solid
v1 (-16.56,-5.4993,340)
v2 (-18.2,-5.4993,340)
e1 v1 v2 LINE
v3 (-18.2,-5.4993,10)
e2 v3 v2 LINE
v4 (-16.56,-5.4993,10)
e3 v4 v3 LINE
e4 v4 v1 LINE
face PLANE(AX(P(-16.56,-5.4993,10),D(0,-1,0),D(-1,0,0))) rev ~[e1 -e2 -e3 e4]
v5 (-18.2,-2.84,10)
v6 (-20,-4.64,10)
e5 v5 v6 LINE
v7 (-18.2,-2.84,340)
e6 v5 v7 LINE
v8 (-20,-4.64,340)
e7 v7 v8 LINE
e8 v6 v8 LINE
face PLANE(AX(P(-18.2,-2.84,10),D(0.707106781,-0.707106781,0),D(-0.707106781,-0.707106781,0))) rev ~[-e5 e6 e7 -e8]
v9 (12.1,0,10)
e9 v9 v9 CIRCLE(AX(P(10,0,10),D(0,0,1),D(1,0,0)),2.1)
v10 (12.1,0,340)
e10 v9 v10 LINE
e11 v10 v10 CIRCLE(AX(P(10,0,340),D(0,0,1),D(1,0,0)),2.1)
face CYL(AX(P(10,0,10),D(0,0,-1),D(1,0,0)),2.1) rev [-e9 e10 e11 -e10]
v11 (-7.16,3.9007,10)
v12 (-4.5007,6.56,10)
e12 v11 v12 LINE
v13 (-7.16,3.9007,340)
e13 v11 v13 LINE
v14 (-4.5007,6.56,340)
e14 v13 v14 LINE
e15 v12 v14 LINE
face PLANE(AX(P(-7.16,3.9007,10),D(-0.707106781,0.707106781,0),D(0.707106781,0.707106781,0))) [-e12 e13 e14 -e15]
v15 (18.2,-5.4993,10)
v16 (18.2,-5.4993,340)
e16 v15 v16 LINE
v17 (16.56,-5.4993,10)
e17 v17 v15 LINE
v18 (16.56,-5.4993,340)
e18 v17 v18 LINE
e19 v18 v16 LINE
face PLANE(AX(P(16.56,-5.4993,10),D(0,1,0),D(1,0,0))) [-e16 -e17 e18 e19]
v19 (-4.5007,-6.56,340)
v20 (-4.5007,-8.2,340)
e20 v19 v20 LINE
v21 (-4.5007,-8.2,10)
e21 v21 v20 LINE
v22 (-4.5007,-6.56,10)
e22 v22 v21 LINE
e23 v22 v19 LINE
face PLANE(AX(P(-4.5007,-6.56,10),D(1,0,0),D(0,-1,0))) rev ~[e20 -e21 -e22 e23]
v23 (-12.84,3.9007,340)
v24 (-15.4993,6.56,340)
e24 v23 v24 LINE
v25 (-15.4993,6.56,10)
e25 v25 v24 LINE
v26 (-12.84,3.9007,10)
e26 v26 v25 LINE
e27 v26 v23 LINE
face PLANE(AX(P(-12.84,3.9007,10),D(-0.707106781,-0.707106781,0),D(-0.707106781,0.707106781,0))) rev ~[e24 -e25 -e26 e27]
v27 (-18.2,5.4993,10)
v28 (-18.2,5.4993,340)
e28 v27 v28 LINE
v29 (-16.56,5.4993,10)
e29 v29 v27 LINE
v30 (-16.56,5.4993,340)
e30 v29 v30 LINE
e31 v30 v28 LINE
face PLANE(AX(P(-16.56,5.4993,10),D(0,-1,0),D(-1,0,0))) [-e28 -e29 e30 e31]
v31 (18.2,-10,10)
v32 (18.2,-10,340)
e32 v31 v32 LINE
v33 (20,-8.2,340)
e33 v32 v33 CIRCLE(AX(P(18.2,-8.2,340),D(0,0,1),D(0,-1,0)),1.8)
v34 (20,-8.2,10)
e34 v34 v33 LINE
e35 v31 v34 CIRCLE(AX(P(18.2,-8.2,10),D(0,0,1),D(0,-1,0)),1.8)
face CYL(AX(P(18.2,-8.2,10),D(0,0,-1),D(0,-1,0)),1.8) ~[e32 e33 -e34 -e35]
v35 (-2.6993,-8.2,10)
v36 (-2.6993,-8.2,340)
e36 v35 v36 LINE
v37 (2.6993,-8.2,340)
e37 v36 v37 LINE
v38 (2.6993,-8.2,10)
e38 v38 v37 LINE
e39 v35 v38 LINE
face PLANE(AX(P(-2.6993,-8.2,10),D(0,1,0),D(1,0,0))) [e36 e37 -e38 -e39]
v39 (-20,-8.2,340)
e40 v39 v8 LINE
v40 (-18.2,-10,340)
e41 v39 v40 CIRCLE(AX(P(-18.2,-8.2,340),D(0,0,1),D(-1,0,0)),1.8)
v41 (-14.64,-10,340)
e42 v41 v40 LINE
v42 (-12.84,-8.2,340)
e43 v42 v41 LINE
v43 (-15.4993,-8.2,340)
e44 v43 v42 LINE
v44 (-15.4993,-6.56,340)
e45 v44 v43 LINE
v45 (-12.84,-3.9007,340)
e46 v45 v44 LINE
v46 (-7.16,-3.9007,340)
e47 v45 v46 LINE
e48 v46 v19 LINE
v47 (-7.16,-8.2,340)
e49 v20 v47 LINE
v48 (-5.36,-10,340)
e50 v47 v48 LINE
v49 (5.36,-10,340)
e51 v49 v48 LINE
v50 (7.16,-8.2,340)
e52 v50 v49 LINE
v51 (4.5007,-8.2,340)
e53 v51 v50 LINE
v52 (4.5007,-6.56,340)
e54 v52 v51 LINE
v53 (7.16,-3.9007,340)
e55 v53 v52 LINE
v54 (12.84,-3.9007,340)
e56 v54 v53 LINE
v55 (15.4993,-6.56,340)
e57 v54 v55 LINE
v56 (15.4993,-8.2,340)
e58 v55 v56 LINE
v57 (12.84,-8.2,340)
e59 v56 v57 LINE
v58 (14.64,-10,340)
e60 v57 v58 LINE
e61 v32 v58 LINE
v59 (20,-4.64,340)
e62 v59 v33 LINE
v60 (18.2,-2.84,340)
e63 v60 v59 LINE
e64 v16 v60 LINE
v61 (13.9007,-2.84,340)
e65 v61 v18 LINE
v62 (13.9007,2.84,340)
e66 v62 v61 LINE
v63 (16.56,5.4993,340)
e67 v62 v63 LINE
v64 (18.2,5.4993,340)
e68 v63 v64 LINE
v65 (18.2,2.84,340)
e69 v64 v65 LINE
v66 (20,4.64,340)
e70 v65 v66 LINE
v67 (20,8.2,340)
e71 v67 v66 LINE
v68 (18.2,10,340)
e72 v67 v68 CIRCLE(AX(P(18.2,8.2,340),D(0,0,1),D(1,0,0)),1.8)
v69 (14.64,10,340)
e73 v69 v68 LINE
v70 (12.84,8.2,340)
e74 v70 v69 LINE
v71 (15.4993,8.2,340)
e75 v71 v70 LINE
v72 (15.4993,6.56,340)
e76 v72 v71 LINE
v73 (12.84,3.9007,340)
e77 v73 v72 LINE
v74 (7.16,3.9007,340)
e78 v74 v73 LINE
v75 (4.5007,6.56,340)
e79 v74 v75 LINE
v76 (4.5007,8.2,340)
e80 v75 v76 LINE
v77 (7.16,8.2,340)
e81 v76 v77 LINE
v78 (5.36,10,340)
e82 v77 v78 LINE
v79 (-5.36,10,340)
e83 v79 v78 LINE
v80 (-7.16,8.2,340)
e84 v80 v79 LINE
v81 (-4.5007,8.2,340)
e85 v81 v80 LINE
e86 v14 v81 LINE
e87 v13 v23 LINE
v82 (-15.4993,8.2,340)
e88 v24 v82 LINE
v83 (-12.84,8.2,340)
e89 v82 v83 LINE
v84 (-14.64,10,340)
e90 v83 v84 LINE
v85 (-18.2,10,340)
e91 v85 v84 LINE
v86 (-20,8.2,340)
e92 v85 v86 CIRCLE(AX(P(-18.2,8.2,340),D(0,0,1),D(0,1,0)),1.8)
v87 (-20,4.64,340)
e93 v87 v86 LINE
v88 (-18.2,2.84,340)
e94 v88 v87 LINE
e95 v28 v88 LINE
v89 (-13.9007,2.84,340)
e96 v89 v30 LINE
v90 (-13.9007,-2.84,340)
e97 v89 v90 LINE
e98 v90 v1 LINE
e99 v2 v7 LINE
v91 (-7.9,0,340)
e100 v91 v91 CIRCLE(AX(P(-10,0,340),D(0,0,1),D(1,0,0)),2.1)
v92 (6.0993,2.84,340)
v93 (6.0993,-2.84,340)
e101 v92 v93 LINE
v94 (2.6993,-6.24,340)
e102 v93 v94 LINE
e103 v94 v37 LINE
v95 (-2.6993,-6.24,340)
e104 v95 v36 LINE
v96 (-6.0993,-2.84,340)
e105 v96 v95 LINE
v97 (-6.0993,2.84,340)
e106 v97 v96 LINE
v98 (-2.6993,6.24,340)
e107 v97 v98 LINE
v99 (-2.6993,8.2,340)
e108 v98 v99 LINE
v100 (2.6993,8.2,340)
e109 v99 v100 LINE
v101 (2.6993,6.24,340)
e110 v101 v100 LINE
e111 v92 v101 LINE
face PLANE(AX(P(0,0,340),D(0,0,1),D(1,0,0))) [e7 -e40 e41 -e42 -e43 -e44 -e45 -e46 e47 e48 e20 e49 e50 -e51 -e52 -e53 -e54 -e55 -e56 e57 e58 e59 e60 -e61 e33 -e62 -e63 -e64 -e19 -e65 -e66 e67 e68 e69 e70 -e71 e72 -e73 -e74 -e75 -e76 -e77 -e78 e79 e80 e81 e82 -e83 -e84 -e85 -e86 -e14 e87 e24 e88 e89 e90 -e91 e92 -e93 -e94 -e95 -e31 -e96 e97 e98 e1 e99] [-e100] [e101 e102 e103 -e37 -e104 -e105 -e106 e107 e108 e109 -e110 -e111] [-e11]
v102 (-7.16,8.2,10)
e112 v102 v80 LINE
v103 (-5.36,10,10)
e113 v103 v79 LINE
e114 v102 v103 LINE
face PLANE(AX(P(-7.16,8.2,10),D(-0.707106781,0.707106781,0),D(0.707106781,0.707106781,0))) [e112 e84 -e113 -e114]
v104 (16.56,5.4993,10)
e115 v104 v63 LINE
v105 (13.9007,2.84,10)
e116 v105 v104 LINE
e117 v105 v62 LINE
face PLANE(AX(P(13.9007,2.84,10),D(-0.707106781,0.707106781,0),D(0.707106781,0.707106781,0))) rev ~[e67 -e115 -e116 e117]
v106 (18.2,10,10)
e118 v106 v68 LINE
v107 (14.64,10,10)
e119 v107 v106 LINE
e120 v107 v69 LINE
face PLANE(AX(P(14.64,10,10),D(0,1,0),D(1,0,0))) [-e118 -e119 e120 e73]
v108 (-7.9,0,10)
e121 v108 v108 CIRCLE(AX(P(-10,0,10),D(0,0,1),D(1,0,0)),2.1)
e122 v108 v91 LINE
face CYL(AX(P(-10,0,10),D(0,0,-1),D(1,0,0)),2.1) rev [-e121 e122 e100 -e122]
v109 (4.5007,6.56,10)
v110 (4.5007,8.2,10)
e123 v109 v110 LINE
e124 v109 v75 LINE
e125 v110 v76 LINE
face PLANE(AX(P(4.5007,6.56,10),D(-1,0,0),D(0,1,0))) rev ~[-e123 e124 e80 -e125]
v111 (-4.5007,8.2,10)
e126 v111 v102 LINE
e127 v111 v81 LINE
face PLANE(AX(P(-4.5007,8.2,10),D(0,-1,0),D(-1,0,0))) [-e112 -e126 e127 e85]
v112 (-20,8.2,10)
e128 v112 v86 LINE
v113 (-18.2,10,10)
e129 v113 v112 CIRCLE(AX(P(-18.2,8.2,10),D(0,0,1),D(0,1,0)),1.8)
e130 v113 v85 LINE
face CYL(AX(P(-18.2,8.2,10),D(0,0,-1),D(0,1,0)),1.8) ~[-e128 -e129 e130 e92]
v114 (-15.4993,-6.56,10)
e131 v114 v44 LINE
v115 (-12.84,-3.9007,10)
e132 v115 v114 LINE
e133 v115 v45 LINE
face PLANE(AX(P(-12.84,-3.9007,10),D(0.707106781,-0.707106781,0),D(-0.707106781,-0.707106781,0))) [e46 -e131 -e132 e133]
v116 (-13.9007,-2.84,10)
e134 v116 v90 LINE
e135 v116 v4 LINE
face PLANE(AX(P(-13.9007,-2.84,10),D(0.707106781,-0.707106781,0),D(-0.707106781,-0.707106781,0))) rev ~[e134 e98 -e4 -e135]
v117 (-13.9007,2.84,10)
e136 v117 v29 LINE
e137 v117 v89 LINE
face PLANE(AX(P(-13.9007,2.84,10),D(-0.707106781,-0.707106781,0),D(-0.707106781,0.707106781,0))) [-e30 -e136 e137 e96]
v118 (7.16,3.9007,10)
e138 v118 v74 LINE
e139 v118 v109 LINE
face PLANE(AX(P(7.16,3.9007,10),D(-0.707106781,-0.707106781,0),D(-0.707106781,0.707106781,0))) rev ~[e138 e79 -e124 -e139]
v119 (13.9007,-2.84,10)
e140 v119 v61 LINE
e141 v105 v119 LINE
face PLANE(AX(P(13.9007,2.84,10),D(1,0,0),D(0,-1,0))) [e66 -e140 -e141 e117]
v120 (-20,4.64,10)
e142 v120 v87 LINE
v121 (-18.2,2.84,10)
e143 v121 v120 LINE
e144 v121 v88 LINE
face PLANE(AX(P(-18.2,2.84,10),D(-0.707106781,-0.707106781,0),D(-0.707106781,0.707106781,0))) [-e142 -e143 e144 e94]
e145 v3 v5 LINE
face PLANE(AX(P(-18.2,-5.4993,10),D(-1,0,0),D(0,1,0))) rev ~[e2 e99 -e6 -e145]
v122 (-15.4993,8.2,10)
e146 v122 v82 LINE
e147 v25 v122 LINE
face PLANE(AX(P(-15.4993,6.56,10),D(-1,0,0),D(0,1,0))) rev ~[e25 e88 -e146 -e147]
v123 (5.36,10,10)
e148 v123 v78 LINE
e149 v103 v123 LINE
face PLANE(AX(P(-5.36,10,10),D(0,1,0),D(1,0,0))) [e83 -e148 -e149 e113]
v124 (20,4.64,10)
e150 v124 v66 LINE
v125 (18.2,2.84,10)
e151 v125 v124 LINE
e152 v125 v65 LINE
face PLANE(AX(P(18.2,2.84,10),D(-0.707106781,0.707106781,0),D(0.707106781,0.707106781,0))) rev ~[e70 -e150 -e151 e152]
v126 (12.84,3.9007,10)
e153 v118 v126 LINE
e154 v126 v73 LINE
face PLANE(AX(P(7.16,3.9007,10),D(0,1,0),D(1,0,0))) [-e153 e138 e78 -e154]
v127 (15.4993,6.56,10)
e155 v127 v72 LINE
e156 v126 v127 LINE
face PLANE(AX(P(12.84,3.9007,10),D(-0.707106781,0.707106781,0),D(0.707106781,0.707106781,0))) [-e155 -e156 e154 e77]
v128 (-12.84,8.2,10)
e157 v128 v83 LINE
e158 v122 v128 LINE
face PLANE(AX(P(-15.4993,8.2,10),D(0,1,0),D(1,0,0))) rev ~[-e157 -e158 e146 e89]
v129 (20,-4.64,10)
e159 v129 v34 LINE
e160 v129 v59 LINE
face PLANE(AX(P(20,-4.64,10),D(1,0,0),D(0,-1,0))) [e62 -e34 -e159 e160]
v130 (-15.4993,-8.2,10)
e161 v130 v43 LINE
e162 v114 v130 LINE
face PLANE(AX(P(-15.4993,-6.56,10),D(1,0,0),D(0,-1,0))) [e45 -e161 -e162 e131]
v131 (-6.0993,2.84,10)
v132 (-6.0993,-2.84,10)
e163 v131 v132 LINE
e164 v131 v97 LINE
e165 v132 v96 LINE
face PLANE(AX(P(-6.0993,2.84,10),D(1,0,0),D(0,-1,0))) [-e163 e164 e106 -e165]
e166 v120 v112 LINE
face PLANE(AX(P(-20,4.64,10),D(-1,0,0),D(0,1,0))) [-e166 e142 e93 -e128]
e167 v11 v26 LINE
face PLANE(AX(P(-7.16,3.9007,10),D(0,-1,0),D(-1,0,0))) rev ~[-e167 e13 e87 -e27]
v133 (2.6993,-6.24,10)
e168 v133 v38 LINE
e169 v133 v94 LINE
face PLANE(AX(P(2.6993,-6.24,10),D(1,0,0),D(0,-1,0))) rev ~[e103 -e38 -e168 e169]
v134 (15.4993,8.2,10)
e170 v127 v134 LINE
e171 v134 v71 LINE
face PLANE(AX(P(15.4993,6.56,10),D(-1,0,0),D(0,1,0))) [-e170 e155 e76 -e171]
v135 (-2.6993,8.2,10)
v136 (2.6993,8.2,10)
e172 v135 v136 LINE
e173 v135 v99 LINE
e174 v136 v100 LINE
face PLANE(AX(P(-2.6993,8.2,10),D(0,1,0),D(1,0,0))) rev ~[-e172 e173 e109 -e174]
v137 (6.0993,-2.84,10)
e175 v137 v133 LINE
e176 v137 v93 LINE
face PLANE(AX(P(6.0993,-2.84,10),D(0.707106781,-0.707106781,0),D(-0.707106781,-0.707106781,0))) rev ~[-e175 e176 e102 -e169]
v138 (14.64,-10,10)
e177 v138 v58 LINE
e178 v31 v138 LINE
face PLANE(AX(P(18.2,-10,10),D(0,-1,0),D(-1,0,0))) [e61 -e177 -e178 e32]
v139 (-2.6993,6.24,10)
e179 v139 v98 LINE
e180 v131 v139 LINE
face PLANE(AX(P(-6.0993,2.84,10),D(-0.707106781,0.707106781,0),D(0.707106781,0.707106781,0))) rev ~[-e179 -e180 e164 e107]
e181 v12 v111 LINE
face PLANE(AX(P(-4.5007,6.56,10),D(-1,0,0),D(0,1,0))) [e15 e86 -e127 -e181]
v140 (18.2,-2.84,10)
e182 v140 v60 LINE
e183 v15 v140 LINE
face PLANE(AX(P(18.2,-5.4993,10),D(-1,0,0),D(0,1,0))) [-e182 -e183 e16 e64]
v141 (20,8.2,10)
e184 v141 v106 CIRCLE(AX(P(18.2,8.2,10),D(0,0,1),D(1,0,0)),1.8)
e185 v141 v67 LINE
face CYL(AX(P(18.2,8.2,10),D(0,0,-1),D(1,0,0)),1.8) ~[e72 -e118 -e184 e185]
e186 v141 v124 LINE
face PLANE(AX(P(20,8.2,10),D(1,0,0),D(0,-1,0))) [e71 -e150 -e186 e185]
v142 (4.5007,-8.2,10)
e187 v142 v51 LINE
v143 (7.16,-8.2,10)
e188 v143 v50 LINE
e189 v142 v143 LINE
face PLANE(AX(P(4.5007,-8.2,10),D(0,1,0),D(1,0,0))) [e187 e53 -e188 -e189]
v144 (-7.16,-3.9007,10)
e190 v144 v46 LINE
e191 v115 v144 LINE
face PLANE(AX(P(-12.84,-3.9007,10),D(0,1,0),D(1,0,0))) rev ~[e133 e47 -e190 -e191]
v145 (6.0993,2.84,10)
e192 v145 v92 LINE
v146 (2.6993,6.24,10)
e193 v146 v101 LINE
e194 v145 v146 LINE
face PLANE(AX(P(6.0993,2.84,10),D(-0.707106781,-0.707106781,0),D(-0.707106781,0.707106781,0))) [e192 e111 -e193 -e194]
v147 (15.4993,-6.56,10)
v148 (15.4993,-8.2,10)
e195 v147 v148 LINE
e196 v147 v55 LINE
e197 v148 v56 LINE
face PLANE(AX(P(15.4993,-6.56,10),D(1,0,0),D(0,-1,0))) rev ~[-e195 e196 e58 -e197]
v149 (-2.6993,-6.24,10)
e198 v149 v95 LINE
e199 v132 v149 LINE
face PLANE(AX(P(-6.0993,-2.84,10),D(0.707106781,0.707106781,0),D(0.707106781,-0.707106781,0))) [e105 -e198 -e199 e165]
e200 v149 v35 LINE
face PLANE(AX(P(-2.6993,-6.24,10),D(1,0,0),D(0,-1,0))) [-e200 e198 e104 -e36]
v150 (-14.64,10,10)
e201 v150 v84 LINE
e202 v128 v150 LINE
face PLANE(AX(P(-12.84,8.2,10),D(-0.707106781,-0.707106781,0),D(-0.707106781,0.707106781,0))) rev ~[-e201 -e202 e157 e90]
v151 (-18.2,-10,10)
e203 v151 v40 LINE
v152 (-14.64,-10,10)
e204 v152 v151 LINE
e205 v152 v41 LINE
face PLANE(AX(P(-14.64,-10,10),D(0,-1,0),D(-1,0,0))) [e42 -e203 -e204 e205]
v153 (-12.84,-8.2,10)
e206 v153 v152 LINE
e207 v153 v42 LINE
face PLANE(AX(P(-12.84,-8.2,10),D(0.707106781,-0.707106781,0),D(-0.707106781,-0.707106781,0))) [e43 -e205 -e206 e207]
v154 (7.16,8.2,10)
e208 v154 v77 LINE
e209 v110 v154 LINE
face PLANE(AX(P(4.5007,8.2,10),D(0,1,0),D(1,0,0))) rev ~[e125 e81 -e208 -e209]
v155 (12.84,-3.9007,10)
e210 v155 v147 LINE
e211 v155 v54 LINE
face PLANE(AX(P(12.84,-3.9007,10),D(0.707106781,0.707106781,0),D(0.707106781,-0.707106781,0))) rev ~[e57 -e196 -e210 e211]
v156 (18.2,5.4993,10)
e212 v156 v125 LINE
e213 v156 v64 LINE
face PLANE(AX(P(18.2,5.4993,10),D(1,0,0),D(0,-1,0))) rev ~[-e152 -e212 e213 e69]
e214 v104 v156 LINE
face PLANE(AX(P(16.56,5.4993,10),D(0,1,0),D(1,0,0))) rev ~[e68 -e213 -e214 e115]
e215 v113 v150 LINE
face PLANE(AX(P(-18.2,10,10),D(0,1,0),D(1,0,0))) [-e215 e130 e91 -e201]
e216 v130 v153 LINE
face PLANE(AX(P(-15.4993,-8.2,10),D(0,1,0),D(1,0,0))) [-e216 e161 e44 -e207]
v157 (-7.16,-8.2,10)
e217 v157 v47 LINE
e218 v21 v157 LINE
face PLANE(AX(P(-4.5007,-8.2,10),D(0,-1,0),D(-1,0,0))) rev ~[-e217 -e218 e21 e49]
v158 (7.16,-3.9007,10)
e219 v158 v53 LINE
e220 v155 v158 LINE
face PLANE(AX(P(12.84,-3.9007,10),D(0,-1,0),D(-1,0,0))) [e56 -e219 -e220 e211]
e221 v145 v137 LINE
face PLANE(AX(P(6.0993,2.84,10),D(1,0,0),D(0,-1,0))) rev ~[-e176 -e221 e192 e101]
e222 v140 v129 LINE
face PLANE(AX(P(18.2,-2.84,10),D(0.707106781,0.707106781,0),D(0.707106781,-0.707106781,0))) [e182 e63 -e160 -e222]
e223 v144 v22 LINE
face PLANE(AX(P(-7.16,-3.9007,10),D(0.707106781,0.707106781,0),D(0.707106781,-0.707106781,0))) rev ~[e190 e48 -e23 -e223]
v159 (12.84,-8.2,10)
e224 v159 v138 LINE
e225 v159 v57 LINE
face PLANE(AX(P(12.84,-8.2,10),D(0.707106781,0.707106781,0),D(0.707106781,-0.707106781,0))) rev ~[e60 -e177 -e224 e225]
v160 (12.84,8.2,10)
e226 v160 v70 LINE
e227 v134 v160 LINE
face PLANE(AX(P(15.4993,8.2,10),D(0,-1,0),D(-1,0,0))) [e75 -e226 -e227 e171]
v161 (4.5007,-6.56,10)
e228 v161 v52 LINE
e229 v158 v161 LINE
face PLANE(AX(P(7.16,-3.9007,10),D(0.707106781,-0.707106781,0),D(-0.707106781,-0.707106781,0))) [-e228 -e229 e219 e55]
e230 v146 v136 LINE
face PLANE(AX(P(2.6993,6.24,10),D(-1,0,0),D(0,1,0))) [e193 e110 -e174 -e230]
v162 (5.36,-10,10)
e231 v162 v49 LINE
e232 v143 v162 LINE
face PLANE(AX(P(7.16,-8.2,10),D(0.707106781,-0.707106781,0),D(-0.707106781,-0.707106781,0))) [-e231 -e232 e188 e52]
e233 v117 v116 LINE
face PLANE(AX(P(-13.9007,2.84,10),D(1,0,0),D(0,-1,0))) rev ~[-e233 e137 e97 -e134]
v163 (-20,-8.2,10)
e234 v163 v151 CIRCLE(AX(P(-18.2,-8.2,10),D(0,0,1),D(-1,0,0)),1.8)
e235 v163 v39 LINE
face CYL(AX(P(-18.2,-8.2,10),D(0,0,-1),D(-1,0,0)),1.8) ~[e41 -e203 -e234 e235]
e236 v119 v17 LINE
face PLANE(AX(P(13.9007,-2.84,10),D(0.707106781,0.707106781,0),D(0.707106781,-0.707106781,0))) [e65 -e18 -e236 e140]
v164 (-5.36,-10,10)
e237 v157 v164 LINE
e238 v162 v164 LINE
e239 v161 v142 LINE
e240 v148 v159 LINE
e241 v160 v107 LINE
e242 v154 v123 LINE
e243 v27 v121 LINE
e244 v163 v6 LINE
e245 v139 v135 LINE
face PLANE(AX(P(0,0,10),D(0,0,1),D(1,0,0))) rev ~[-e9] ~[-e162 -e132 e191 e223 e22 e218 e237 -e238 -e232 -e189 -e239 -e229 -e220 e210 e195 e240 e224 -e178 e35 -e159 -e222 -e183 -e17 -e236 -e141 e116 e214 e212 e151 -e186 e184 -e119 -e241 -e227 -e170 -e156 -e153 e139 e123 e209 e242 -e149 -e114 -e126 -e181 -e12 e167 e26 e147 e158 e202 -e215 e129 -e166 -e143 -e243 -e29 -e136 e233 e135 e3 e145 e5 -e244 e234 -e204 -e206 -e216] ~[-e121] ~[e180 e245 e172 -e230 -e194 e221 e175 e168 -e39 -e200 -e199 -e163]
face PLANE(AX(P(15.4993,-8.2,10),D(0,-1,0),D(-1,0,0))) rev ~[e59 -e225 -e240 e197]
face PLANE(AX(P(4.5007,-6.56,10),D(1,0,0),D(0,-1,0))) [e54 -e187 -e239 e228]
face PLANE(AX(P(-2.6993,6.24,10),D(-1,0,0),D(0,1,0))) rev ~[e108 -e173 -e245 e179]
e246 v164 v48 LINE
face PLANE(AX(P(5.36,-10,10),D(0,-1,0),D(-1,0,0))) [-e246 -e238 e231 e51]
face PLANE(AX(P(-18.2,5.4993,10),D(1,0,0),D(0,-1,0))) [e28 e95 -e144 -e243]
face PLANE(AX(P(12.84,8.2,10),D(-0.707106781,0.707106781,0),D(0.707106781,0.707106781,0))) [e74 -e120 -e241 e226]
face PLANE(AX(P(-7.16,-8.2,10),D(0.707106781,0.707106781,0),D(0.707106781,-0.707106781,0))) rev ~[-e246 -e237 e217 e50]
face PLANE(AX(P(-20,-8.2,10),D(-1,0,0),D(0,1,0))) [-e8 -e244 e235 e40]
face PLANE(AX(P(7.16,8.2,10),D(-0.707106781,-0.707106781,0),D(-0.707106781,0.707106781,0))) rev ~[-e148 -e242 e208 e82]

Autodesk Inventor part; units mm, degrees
ref_plane "Start Plane" through (0, 0, 10) normal (0, 0, 1) x (1, 0, 0)
ref_plane "End Plane" through (0, 0, 340) normal (0, 0, 1) x (1, 0, 0)
sketch "Sketch" plane through (0, 0, 0) normal (0, 0, 1) x (1, 0, 0)
  line L0 (0, 0) -> (0, 10) construction
  line L1 (-10, 10) -> (-10, 0) construction
  line L2 (0, 0) -> (-10, 0) construction
  circle A0 centre (-10, 0) radius 2.1
  line L3 (-13.9007, 3.9007) -> (-6.0993, 3.9007) construction
  line L4 (-6.0993, 3.9007) -> (-6.0993, -3.9007) construction
  line L5 (-6.0993, -3.9007) -> (-13.9007, -3.9007) construction
  line L6 (-13.9007, -3.9007) -> (-13.9007, 3.9007) construction
  line L7 (-13.9007, 3.9007) -> (-6.0993, -3.9007) construction
  line L8 (-6.0993, 3.9007) -> (-13.9007, -3.9007) construction
  line L9 (-13.9007, -2.84) -> (-12.84, -3.9007) construction
  line L10 (-13.9007, -2.84) -> (-12.4007, -2.84) construction
  line L11 (-12.84, -3.9007) -> (-15.4993, -6.56)
  line L12 (-15.4993, -6.56) -> (-15.4993, -8.2)
  line L13 (-15.4993, -8.2) -> (-12.84, -8.2)
  line L14 (-12.84, -8.2) -> (-14.64, -10)
  line L15 (-7.16, -3.9007) -> (-4.5007, -6.56)
  line L16 (-4.5007, -6.56) -> (-4.5007, -8.2)
  line L17 (-4.5007, -8.2) -> (-7.16, -8.2)
  line L18 (-7.16, -8.2) -> (-5.36, -10)
  line L19 (-12.84, -3.9007) -> (-7.16, -3.9007)
  line L20 (-12.84, 3.9007) -> (-13.9007, 2.84) construction
  line L21 (-12.84, 3.9007) -> (-12.84, 2.4007) construction
  line L22 (-13.9007, 2.84) -> (-16.56, 5.4993)
  line L23 (-16.56, 5.4993) -> (-18.2, 5.4993)
  line L24 (-18.2, 5.4993) -> (-18.2, 2.84)
  line L25 (-18.2, 2.84) -> (-20, 4.64)
  line L26 (-18.2, -2.84) -> (-20, -4.64)
  line L27 (-18.2, -5.4993) -> (-18.2, -2.84)
  line L28 (-16.56, -5.4993) -> (-18.2, -5.4993)
  line L29 (-13.9007, -2.84) -> (-16.56, -5.4993)
  line L30 (-13.9007, 2.84) -> (-13.9007, -2.84)
  line L31 (-6.0993, 2.84) -> (-7.16, 3.9007) construction
  line L32 (-6.0993, 2.84) -> (-7.5993, 2.84) construction
  line L33 (-7.16, 3.9007) -> (-4.5007, 6.56)
  line L34 (-4.5007, 6.56) -> (-4.5007, 8.2)
  line L35 (-4.5007, 8.2) -> (-7.16, 8.2)
  line L36 (-7.16, 8.2) -> (-5.36, 10)
  line L37 (-12.84, 8.2) -> (-14.64, 10)
  line L38 (-15.4993, 8.2) -> (-12.84, 8.2)
  line L39 (-15.4993, 6.56) -> (-15.4993, 8.2)
  line L40 (-12.84, 3.9007) -> (-15.4993, 6.56)
  line L41 (-7.16, 3.9007) -> (-12.84, 3.9007)
  line L42 (-6.0993, 2.84) -> (-2.6993, 6.24)
  line L43 (-2.6993, 6.24) -> (-2.6993, 8.2)
  line L44 (-4.5007, 8.2) -> (0, 8.2) construction
  line L45 (-6.0993, -2.84) -> (-2.6993, -6.24)
  line L46 (-2.6993, -6.24) -> (-2.6993, -8.2)
  line L47 (10, 10) -> (10, 0) construction
  circle A1 centre (10, 0) radius 2.1
  line L48 (13.9007, 3.9007) -> (6.0993, -3.9007) construction
  line L49 (13.9007, -2.84) -> (12.84, -3.9007) construction
  line L50 (12.84, -3.9007) -> (15.4993, -6.56)
  line L51 (15.4993, -6.56) -> (15.4993, -8.2)
  line L52 (15.4993, -8.2) -> (12.84, -8.2)
  line L53 (12.84, -8.2) -> (14.64, -10)
  line L54 (7.16, -8.2) -> (5.36, -10)
  line L55 (4.5007, -8.2) -> (7.16, -8.2)
  line L56 (4.5007, -6.56) -> (4.5007, -8.2)
  line L57 (7.16, -3.9007) -> (4.5007, -6.56)
  line L58 (12.84, -3.9007) -> (7.16, -3.9007)
  line L59 (13.9007, 2.84) -> (13.9007, -2.84)
  line L60 (13.9007, 2.84) -> (16.56, 5.4993)
  line L61 (16.56, 5.4993) -> (18.2, 5.4993)
  line L62 (18.2, 5.4993) -> (18.2, 2.84)
  line L63 (18.2, 2.84) -> (20, 4.64)
  line L64 (18.2, -5.4993) -> (18.2, -2.84)
  line L65 (18.2, -2.84) -> (20, -4.64)
  line L66 (16.56, -5.4993) -> (18.2, -5.4993)
  line L67 (13.9007, -2.84) -> (16.56, -5.4993)
  line L68 (7.16, 3.9007) -> (12.84, 3.9007)
  line L69 (7.16, 3.9007) -> (4.5007, 6.56)
  line L70 (4.5007, 6.56) -> (4.5007, 8.2)
  line L71 (4.5007, 8.2) -> (7.16, 8.2)
  line L72 (7.16, 8.2) -> (5.36, 10)
  line L73 (15.4993, 8.2) -> (12.84, 8.2)
  line L74 (12.84, 8.2) -> (14.64, 10)
  line L75 (15.4993, 6.56) -> (15.4993, 8.2)
  line L76 (12.84, 3.9007) -> (15.4993, 6.56)
  line L77 (6.0993, 2.84) -> (2.6993, 6.24)
  line L78 (2.6993, 6.24) -> (2.6993, 8.2)
  line L79 (6.0993, -2.84) -> (2.6993, -6.24)
  line L80 (2.6993, -6.24) -> (2.6993, -8.2)
  line L81 (-14.64, -10) -> (-18.2, -10)
  line L82 (-20, -8.2) -> (-20, -4.64)
  line L83 (-20, 4.64) -> (-20, 8.2)
  line L84 (-18.2, 10) -> (-14.64, 10)
  line L85 (18.2, -10) -> (14.64, -10)
  line L86 (5.36, -10) -> (-5.36, -10)
  line L87 (-5.36, 10) -> (5.36, 10)
  line L88 (14.64, 10) -> (18.2, 10)
  line L89 (20, 8.2) -> (20, 4.64)
  line L90 (20, -4.64) -> (20, -8.2)
  line L91 (-2.6993, -8.2) -> (2.6993, -8.2)
  line L92 (-2.6993, 8.2) -> (2.6993, 8.2)
  line L93 (-6.0993, 2.84) -> (-6.0993, -2.84)
  line L94 (6.0993, 2.84) -> (6.0993, -2.84)
  arc A2 (-20, -8.2) -> (-18.2, -10) centre (-18.2, -8.2) ccw
  arc A3 (-18.2, 10) -> (-20, 8.2) centre (-18.2, 8.2) ccw
  arc A4 (18.2, -10) -> (20, -8.2) centre (18.2, -8.2) ccw
  arc A5 (20, 8.2) -> (18.2, 10) centre (18.2, 8.2) ccw
  point P0 (-13.9007, -3.9007)
  point P1 (-13.9007, 3.9007)
  point P2 (-13.9007, 3.9007)
  point P3 (-6.0993, 3.9007)
  point P4 (6.0993, 3.9007)
  point P5 (13.9007, -3.9007)
  point P6 (12.4007, -2.84)
  point P7 (13.9007, -3.9007)
  point P8 (13.9007, 3.9007)
  point P9 (12.84, 3.9007)
  point P10 (12.84, 2.4007)
  point P11 (13.9007, 3.9007)
  point P12 (6.0993, 3.9007)
  point P13 (7.5993, 2.84)
  point P14 (-20, 10)
  point P15 (20, -10)
  point P16 (20, 10)
  point P17 (-20, -10)
  dimension "d26" = 10
  dimension "d27" = 10
  dimension "d28" = 4.2
  dimension "d29" = 1.5
  dimension "d30" = 45
  dimension "d32" = 45
  dimension "d33" = 1.64
  dimension "d34" = 1.8
  dimension "d35" = 10
  dimension "d36" = 5.68
  dimension "d39" = 180
  dimension "d41" = 1.96
  dimension "d42" = 5.68
  dimension "d45" = 1.8
extrude "Body" add sketch "Sketch" along normal up to surface (330 mm away) from surface at 10
sketch "Sketch8" plane through (0, 0, 0) normal (0, 0, 1) x (1, 0, 0)
  line L0 (0, 0) -> (10, 0)
ref_plane "Work Plane5" through (0, 0, 0) normal (0, -1, 0) x (1, 0, 0)
sketch "Sketch9" plane through (0, 0, 0) normal (0, -1, 0) x (1, 0, 0)
  line L0 (-2, 10) -> (12, 10)
  line L1 (-2, 340) -> (12, 340)
  dimension "d51" = 330
ref_plane "Work Plane6" through (-20, 4.5951, 340) normal (0, 0, 1) x (1, 0, 0)
split "Split1" plane through (-20, 4.5951, 340) removes the side toward (0, 0, 1)
ref_plane "Work Plane7" through (255, 4.5951, 10) normal (0, 0, -1) x (-1, 0, 0)
split "Split2" plane through (255, 4.5951, 10) removes the side toward (0, 0, -1)
equation "\"d42\" = d36"
equation "\"G_L\" = d51"
properties part number "vslot 20 x 40" material "Aluminum 6061"
